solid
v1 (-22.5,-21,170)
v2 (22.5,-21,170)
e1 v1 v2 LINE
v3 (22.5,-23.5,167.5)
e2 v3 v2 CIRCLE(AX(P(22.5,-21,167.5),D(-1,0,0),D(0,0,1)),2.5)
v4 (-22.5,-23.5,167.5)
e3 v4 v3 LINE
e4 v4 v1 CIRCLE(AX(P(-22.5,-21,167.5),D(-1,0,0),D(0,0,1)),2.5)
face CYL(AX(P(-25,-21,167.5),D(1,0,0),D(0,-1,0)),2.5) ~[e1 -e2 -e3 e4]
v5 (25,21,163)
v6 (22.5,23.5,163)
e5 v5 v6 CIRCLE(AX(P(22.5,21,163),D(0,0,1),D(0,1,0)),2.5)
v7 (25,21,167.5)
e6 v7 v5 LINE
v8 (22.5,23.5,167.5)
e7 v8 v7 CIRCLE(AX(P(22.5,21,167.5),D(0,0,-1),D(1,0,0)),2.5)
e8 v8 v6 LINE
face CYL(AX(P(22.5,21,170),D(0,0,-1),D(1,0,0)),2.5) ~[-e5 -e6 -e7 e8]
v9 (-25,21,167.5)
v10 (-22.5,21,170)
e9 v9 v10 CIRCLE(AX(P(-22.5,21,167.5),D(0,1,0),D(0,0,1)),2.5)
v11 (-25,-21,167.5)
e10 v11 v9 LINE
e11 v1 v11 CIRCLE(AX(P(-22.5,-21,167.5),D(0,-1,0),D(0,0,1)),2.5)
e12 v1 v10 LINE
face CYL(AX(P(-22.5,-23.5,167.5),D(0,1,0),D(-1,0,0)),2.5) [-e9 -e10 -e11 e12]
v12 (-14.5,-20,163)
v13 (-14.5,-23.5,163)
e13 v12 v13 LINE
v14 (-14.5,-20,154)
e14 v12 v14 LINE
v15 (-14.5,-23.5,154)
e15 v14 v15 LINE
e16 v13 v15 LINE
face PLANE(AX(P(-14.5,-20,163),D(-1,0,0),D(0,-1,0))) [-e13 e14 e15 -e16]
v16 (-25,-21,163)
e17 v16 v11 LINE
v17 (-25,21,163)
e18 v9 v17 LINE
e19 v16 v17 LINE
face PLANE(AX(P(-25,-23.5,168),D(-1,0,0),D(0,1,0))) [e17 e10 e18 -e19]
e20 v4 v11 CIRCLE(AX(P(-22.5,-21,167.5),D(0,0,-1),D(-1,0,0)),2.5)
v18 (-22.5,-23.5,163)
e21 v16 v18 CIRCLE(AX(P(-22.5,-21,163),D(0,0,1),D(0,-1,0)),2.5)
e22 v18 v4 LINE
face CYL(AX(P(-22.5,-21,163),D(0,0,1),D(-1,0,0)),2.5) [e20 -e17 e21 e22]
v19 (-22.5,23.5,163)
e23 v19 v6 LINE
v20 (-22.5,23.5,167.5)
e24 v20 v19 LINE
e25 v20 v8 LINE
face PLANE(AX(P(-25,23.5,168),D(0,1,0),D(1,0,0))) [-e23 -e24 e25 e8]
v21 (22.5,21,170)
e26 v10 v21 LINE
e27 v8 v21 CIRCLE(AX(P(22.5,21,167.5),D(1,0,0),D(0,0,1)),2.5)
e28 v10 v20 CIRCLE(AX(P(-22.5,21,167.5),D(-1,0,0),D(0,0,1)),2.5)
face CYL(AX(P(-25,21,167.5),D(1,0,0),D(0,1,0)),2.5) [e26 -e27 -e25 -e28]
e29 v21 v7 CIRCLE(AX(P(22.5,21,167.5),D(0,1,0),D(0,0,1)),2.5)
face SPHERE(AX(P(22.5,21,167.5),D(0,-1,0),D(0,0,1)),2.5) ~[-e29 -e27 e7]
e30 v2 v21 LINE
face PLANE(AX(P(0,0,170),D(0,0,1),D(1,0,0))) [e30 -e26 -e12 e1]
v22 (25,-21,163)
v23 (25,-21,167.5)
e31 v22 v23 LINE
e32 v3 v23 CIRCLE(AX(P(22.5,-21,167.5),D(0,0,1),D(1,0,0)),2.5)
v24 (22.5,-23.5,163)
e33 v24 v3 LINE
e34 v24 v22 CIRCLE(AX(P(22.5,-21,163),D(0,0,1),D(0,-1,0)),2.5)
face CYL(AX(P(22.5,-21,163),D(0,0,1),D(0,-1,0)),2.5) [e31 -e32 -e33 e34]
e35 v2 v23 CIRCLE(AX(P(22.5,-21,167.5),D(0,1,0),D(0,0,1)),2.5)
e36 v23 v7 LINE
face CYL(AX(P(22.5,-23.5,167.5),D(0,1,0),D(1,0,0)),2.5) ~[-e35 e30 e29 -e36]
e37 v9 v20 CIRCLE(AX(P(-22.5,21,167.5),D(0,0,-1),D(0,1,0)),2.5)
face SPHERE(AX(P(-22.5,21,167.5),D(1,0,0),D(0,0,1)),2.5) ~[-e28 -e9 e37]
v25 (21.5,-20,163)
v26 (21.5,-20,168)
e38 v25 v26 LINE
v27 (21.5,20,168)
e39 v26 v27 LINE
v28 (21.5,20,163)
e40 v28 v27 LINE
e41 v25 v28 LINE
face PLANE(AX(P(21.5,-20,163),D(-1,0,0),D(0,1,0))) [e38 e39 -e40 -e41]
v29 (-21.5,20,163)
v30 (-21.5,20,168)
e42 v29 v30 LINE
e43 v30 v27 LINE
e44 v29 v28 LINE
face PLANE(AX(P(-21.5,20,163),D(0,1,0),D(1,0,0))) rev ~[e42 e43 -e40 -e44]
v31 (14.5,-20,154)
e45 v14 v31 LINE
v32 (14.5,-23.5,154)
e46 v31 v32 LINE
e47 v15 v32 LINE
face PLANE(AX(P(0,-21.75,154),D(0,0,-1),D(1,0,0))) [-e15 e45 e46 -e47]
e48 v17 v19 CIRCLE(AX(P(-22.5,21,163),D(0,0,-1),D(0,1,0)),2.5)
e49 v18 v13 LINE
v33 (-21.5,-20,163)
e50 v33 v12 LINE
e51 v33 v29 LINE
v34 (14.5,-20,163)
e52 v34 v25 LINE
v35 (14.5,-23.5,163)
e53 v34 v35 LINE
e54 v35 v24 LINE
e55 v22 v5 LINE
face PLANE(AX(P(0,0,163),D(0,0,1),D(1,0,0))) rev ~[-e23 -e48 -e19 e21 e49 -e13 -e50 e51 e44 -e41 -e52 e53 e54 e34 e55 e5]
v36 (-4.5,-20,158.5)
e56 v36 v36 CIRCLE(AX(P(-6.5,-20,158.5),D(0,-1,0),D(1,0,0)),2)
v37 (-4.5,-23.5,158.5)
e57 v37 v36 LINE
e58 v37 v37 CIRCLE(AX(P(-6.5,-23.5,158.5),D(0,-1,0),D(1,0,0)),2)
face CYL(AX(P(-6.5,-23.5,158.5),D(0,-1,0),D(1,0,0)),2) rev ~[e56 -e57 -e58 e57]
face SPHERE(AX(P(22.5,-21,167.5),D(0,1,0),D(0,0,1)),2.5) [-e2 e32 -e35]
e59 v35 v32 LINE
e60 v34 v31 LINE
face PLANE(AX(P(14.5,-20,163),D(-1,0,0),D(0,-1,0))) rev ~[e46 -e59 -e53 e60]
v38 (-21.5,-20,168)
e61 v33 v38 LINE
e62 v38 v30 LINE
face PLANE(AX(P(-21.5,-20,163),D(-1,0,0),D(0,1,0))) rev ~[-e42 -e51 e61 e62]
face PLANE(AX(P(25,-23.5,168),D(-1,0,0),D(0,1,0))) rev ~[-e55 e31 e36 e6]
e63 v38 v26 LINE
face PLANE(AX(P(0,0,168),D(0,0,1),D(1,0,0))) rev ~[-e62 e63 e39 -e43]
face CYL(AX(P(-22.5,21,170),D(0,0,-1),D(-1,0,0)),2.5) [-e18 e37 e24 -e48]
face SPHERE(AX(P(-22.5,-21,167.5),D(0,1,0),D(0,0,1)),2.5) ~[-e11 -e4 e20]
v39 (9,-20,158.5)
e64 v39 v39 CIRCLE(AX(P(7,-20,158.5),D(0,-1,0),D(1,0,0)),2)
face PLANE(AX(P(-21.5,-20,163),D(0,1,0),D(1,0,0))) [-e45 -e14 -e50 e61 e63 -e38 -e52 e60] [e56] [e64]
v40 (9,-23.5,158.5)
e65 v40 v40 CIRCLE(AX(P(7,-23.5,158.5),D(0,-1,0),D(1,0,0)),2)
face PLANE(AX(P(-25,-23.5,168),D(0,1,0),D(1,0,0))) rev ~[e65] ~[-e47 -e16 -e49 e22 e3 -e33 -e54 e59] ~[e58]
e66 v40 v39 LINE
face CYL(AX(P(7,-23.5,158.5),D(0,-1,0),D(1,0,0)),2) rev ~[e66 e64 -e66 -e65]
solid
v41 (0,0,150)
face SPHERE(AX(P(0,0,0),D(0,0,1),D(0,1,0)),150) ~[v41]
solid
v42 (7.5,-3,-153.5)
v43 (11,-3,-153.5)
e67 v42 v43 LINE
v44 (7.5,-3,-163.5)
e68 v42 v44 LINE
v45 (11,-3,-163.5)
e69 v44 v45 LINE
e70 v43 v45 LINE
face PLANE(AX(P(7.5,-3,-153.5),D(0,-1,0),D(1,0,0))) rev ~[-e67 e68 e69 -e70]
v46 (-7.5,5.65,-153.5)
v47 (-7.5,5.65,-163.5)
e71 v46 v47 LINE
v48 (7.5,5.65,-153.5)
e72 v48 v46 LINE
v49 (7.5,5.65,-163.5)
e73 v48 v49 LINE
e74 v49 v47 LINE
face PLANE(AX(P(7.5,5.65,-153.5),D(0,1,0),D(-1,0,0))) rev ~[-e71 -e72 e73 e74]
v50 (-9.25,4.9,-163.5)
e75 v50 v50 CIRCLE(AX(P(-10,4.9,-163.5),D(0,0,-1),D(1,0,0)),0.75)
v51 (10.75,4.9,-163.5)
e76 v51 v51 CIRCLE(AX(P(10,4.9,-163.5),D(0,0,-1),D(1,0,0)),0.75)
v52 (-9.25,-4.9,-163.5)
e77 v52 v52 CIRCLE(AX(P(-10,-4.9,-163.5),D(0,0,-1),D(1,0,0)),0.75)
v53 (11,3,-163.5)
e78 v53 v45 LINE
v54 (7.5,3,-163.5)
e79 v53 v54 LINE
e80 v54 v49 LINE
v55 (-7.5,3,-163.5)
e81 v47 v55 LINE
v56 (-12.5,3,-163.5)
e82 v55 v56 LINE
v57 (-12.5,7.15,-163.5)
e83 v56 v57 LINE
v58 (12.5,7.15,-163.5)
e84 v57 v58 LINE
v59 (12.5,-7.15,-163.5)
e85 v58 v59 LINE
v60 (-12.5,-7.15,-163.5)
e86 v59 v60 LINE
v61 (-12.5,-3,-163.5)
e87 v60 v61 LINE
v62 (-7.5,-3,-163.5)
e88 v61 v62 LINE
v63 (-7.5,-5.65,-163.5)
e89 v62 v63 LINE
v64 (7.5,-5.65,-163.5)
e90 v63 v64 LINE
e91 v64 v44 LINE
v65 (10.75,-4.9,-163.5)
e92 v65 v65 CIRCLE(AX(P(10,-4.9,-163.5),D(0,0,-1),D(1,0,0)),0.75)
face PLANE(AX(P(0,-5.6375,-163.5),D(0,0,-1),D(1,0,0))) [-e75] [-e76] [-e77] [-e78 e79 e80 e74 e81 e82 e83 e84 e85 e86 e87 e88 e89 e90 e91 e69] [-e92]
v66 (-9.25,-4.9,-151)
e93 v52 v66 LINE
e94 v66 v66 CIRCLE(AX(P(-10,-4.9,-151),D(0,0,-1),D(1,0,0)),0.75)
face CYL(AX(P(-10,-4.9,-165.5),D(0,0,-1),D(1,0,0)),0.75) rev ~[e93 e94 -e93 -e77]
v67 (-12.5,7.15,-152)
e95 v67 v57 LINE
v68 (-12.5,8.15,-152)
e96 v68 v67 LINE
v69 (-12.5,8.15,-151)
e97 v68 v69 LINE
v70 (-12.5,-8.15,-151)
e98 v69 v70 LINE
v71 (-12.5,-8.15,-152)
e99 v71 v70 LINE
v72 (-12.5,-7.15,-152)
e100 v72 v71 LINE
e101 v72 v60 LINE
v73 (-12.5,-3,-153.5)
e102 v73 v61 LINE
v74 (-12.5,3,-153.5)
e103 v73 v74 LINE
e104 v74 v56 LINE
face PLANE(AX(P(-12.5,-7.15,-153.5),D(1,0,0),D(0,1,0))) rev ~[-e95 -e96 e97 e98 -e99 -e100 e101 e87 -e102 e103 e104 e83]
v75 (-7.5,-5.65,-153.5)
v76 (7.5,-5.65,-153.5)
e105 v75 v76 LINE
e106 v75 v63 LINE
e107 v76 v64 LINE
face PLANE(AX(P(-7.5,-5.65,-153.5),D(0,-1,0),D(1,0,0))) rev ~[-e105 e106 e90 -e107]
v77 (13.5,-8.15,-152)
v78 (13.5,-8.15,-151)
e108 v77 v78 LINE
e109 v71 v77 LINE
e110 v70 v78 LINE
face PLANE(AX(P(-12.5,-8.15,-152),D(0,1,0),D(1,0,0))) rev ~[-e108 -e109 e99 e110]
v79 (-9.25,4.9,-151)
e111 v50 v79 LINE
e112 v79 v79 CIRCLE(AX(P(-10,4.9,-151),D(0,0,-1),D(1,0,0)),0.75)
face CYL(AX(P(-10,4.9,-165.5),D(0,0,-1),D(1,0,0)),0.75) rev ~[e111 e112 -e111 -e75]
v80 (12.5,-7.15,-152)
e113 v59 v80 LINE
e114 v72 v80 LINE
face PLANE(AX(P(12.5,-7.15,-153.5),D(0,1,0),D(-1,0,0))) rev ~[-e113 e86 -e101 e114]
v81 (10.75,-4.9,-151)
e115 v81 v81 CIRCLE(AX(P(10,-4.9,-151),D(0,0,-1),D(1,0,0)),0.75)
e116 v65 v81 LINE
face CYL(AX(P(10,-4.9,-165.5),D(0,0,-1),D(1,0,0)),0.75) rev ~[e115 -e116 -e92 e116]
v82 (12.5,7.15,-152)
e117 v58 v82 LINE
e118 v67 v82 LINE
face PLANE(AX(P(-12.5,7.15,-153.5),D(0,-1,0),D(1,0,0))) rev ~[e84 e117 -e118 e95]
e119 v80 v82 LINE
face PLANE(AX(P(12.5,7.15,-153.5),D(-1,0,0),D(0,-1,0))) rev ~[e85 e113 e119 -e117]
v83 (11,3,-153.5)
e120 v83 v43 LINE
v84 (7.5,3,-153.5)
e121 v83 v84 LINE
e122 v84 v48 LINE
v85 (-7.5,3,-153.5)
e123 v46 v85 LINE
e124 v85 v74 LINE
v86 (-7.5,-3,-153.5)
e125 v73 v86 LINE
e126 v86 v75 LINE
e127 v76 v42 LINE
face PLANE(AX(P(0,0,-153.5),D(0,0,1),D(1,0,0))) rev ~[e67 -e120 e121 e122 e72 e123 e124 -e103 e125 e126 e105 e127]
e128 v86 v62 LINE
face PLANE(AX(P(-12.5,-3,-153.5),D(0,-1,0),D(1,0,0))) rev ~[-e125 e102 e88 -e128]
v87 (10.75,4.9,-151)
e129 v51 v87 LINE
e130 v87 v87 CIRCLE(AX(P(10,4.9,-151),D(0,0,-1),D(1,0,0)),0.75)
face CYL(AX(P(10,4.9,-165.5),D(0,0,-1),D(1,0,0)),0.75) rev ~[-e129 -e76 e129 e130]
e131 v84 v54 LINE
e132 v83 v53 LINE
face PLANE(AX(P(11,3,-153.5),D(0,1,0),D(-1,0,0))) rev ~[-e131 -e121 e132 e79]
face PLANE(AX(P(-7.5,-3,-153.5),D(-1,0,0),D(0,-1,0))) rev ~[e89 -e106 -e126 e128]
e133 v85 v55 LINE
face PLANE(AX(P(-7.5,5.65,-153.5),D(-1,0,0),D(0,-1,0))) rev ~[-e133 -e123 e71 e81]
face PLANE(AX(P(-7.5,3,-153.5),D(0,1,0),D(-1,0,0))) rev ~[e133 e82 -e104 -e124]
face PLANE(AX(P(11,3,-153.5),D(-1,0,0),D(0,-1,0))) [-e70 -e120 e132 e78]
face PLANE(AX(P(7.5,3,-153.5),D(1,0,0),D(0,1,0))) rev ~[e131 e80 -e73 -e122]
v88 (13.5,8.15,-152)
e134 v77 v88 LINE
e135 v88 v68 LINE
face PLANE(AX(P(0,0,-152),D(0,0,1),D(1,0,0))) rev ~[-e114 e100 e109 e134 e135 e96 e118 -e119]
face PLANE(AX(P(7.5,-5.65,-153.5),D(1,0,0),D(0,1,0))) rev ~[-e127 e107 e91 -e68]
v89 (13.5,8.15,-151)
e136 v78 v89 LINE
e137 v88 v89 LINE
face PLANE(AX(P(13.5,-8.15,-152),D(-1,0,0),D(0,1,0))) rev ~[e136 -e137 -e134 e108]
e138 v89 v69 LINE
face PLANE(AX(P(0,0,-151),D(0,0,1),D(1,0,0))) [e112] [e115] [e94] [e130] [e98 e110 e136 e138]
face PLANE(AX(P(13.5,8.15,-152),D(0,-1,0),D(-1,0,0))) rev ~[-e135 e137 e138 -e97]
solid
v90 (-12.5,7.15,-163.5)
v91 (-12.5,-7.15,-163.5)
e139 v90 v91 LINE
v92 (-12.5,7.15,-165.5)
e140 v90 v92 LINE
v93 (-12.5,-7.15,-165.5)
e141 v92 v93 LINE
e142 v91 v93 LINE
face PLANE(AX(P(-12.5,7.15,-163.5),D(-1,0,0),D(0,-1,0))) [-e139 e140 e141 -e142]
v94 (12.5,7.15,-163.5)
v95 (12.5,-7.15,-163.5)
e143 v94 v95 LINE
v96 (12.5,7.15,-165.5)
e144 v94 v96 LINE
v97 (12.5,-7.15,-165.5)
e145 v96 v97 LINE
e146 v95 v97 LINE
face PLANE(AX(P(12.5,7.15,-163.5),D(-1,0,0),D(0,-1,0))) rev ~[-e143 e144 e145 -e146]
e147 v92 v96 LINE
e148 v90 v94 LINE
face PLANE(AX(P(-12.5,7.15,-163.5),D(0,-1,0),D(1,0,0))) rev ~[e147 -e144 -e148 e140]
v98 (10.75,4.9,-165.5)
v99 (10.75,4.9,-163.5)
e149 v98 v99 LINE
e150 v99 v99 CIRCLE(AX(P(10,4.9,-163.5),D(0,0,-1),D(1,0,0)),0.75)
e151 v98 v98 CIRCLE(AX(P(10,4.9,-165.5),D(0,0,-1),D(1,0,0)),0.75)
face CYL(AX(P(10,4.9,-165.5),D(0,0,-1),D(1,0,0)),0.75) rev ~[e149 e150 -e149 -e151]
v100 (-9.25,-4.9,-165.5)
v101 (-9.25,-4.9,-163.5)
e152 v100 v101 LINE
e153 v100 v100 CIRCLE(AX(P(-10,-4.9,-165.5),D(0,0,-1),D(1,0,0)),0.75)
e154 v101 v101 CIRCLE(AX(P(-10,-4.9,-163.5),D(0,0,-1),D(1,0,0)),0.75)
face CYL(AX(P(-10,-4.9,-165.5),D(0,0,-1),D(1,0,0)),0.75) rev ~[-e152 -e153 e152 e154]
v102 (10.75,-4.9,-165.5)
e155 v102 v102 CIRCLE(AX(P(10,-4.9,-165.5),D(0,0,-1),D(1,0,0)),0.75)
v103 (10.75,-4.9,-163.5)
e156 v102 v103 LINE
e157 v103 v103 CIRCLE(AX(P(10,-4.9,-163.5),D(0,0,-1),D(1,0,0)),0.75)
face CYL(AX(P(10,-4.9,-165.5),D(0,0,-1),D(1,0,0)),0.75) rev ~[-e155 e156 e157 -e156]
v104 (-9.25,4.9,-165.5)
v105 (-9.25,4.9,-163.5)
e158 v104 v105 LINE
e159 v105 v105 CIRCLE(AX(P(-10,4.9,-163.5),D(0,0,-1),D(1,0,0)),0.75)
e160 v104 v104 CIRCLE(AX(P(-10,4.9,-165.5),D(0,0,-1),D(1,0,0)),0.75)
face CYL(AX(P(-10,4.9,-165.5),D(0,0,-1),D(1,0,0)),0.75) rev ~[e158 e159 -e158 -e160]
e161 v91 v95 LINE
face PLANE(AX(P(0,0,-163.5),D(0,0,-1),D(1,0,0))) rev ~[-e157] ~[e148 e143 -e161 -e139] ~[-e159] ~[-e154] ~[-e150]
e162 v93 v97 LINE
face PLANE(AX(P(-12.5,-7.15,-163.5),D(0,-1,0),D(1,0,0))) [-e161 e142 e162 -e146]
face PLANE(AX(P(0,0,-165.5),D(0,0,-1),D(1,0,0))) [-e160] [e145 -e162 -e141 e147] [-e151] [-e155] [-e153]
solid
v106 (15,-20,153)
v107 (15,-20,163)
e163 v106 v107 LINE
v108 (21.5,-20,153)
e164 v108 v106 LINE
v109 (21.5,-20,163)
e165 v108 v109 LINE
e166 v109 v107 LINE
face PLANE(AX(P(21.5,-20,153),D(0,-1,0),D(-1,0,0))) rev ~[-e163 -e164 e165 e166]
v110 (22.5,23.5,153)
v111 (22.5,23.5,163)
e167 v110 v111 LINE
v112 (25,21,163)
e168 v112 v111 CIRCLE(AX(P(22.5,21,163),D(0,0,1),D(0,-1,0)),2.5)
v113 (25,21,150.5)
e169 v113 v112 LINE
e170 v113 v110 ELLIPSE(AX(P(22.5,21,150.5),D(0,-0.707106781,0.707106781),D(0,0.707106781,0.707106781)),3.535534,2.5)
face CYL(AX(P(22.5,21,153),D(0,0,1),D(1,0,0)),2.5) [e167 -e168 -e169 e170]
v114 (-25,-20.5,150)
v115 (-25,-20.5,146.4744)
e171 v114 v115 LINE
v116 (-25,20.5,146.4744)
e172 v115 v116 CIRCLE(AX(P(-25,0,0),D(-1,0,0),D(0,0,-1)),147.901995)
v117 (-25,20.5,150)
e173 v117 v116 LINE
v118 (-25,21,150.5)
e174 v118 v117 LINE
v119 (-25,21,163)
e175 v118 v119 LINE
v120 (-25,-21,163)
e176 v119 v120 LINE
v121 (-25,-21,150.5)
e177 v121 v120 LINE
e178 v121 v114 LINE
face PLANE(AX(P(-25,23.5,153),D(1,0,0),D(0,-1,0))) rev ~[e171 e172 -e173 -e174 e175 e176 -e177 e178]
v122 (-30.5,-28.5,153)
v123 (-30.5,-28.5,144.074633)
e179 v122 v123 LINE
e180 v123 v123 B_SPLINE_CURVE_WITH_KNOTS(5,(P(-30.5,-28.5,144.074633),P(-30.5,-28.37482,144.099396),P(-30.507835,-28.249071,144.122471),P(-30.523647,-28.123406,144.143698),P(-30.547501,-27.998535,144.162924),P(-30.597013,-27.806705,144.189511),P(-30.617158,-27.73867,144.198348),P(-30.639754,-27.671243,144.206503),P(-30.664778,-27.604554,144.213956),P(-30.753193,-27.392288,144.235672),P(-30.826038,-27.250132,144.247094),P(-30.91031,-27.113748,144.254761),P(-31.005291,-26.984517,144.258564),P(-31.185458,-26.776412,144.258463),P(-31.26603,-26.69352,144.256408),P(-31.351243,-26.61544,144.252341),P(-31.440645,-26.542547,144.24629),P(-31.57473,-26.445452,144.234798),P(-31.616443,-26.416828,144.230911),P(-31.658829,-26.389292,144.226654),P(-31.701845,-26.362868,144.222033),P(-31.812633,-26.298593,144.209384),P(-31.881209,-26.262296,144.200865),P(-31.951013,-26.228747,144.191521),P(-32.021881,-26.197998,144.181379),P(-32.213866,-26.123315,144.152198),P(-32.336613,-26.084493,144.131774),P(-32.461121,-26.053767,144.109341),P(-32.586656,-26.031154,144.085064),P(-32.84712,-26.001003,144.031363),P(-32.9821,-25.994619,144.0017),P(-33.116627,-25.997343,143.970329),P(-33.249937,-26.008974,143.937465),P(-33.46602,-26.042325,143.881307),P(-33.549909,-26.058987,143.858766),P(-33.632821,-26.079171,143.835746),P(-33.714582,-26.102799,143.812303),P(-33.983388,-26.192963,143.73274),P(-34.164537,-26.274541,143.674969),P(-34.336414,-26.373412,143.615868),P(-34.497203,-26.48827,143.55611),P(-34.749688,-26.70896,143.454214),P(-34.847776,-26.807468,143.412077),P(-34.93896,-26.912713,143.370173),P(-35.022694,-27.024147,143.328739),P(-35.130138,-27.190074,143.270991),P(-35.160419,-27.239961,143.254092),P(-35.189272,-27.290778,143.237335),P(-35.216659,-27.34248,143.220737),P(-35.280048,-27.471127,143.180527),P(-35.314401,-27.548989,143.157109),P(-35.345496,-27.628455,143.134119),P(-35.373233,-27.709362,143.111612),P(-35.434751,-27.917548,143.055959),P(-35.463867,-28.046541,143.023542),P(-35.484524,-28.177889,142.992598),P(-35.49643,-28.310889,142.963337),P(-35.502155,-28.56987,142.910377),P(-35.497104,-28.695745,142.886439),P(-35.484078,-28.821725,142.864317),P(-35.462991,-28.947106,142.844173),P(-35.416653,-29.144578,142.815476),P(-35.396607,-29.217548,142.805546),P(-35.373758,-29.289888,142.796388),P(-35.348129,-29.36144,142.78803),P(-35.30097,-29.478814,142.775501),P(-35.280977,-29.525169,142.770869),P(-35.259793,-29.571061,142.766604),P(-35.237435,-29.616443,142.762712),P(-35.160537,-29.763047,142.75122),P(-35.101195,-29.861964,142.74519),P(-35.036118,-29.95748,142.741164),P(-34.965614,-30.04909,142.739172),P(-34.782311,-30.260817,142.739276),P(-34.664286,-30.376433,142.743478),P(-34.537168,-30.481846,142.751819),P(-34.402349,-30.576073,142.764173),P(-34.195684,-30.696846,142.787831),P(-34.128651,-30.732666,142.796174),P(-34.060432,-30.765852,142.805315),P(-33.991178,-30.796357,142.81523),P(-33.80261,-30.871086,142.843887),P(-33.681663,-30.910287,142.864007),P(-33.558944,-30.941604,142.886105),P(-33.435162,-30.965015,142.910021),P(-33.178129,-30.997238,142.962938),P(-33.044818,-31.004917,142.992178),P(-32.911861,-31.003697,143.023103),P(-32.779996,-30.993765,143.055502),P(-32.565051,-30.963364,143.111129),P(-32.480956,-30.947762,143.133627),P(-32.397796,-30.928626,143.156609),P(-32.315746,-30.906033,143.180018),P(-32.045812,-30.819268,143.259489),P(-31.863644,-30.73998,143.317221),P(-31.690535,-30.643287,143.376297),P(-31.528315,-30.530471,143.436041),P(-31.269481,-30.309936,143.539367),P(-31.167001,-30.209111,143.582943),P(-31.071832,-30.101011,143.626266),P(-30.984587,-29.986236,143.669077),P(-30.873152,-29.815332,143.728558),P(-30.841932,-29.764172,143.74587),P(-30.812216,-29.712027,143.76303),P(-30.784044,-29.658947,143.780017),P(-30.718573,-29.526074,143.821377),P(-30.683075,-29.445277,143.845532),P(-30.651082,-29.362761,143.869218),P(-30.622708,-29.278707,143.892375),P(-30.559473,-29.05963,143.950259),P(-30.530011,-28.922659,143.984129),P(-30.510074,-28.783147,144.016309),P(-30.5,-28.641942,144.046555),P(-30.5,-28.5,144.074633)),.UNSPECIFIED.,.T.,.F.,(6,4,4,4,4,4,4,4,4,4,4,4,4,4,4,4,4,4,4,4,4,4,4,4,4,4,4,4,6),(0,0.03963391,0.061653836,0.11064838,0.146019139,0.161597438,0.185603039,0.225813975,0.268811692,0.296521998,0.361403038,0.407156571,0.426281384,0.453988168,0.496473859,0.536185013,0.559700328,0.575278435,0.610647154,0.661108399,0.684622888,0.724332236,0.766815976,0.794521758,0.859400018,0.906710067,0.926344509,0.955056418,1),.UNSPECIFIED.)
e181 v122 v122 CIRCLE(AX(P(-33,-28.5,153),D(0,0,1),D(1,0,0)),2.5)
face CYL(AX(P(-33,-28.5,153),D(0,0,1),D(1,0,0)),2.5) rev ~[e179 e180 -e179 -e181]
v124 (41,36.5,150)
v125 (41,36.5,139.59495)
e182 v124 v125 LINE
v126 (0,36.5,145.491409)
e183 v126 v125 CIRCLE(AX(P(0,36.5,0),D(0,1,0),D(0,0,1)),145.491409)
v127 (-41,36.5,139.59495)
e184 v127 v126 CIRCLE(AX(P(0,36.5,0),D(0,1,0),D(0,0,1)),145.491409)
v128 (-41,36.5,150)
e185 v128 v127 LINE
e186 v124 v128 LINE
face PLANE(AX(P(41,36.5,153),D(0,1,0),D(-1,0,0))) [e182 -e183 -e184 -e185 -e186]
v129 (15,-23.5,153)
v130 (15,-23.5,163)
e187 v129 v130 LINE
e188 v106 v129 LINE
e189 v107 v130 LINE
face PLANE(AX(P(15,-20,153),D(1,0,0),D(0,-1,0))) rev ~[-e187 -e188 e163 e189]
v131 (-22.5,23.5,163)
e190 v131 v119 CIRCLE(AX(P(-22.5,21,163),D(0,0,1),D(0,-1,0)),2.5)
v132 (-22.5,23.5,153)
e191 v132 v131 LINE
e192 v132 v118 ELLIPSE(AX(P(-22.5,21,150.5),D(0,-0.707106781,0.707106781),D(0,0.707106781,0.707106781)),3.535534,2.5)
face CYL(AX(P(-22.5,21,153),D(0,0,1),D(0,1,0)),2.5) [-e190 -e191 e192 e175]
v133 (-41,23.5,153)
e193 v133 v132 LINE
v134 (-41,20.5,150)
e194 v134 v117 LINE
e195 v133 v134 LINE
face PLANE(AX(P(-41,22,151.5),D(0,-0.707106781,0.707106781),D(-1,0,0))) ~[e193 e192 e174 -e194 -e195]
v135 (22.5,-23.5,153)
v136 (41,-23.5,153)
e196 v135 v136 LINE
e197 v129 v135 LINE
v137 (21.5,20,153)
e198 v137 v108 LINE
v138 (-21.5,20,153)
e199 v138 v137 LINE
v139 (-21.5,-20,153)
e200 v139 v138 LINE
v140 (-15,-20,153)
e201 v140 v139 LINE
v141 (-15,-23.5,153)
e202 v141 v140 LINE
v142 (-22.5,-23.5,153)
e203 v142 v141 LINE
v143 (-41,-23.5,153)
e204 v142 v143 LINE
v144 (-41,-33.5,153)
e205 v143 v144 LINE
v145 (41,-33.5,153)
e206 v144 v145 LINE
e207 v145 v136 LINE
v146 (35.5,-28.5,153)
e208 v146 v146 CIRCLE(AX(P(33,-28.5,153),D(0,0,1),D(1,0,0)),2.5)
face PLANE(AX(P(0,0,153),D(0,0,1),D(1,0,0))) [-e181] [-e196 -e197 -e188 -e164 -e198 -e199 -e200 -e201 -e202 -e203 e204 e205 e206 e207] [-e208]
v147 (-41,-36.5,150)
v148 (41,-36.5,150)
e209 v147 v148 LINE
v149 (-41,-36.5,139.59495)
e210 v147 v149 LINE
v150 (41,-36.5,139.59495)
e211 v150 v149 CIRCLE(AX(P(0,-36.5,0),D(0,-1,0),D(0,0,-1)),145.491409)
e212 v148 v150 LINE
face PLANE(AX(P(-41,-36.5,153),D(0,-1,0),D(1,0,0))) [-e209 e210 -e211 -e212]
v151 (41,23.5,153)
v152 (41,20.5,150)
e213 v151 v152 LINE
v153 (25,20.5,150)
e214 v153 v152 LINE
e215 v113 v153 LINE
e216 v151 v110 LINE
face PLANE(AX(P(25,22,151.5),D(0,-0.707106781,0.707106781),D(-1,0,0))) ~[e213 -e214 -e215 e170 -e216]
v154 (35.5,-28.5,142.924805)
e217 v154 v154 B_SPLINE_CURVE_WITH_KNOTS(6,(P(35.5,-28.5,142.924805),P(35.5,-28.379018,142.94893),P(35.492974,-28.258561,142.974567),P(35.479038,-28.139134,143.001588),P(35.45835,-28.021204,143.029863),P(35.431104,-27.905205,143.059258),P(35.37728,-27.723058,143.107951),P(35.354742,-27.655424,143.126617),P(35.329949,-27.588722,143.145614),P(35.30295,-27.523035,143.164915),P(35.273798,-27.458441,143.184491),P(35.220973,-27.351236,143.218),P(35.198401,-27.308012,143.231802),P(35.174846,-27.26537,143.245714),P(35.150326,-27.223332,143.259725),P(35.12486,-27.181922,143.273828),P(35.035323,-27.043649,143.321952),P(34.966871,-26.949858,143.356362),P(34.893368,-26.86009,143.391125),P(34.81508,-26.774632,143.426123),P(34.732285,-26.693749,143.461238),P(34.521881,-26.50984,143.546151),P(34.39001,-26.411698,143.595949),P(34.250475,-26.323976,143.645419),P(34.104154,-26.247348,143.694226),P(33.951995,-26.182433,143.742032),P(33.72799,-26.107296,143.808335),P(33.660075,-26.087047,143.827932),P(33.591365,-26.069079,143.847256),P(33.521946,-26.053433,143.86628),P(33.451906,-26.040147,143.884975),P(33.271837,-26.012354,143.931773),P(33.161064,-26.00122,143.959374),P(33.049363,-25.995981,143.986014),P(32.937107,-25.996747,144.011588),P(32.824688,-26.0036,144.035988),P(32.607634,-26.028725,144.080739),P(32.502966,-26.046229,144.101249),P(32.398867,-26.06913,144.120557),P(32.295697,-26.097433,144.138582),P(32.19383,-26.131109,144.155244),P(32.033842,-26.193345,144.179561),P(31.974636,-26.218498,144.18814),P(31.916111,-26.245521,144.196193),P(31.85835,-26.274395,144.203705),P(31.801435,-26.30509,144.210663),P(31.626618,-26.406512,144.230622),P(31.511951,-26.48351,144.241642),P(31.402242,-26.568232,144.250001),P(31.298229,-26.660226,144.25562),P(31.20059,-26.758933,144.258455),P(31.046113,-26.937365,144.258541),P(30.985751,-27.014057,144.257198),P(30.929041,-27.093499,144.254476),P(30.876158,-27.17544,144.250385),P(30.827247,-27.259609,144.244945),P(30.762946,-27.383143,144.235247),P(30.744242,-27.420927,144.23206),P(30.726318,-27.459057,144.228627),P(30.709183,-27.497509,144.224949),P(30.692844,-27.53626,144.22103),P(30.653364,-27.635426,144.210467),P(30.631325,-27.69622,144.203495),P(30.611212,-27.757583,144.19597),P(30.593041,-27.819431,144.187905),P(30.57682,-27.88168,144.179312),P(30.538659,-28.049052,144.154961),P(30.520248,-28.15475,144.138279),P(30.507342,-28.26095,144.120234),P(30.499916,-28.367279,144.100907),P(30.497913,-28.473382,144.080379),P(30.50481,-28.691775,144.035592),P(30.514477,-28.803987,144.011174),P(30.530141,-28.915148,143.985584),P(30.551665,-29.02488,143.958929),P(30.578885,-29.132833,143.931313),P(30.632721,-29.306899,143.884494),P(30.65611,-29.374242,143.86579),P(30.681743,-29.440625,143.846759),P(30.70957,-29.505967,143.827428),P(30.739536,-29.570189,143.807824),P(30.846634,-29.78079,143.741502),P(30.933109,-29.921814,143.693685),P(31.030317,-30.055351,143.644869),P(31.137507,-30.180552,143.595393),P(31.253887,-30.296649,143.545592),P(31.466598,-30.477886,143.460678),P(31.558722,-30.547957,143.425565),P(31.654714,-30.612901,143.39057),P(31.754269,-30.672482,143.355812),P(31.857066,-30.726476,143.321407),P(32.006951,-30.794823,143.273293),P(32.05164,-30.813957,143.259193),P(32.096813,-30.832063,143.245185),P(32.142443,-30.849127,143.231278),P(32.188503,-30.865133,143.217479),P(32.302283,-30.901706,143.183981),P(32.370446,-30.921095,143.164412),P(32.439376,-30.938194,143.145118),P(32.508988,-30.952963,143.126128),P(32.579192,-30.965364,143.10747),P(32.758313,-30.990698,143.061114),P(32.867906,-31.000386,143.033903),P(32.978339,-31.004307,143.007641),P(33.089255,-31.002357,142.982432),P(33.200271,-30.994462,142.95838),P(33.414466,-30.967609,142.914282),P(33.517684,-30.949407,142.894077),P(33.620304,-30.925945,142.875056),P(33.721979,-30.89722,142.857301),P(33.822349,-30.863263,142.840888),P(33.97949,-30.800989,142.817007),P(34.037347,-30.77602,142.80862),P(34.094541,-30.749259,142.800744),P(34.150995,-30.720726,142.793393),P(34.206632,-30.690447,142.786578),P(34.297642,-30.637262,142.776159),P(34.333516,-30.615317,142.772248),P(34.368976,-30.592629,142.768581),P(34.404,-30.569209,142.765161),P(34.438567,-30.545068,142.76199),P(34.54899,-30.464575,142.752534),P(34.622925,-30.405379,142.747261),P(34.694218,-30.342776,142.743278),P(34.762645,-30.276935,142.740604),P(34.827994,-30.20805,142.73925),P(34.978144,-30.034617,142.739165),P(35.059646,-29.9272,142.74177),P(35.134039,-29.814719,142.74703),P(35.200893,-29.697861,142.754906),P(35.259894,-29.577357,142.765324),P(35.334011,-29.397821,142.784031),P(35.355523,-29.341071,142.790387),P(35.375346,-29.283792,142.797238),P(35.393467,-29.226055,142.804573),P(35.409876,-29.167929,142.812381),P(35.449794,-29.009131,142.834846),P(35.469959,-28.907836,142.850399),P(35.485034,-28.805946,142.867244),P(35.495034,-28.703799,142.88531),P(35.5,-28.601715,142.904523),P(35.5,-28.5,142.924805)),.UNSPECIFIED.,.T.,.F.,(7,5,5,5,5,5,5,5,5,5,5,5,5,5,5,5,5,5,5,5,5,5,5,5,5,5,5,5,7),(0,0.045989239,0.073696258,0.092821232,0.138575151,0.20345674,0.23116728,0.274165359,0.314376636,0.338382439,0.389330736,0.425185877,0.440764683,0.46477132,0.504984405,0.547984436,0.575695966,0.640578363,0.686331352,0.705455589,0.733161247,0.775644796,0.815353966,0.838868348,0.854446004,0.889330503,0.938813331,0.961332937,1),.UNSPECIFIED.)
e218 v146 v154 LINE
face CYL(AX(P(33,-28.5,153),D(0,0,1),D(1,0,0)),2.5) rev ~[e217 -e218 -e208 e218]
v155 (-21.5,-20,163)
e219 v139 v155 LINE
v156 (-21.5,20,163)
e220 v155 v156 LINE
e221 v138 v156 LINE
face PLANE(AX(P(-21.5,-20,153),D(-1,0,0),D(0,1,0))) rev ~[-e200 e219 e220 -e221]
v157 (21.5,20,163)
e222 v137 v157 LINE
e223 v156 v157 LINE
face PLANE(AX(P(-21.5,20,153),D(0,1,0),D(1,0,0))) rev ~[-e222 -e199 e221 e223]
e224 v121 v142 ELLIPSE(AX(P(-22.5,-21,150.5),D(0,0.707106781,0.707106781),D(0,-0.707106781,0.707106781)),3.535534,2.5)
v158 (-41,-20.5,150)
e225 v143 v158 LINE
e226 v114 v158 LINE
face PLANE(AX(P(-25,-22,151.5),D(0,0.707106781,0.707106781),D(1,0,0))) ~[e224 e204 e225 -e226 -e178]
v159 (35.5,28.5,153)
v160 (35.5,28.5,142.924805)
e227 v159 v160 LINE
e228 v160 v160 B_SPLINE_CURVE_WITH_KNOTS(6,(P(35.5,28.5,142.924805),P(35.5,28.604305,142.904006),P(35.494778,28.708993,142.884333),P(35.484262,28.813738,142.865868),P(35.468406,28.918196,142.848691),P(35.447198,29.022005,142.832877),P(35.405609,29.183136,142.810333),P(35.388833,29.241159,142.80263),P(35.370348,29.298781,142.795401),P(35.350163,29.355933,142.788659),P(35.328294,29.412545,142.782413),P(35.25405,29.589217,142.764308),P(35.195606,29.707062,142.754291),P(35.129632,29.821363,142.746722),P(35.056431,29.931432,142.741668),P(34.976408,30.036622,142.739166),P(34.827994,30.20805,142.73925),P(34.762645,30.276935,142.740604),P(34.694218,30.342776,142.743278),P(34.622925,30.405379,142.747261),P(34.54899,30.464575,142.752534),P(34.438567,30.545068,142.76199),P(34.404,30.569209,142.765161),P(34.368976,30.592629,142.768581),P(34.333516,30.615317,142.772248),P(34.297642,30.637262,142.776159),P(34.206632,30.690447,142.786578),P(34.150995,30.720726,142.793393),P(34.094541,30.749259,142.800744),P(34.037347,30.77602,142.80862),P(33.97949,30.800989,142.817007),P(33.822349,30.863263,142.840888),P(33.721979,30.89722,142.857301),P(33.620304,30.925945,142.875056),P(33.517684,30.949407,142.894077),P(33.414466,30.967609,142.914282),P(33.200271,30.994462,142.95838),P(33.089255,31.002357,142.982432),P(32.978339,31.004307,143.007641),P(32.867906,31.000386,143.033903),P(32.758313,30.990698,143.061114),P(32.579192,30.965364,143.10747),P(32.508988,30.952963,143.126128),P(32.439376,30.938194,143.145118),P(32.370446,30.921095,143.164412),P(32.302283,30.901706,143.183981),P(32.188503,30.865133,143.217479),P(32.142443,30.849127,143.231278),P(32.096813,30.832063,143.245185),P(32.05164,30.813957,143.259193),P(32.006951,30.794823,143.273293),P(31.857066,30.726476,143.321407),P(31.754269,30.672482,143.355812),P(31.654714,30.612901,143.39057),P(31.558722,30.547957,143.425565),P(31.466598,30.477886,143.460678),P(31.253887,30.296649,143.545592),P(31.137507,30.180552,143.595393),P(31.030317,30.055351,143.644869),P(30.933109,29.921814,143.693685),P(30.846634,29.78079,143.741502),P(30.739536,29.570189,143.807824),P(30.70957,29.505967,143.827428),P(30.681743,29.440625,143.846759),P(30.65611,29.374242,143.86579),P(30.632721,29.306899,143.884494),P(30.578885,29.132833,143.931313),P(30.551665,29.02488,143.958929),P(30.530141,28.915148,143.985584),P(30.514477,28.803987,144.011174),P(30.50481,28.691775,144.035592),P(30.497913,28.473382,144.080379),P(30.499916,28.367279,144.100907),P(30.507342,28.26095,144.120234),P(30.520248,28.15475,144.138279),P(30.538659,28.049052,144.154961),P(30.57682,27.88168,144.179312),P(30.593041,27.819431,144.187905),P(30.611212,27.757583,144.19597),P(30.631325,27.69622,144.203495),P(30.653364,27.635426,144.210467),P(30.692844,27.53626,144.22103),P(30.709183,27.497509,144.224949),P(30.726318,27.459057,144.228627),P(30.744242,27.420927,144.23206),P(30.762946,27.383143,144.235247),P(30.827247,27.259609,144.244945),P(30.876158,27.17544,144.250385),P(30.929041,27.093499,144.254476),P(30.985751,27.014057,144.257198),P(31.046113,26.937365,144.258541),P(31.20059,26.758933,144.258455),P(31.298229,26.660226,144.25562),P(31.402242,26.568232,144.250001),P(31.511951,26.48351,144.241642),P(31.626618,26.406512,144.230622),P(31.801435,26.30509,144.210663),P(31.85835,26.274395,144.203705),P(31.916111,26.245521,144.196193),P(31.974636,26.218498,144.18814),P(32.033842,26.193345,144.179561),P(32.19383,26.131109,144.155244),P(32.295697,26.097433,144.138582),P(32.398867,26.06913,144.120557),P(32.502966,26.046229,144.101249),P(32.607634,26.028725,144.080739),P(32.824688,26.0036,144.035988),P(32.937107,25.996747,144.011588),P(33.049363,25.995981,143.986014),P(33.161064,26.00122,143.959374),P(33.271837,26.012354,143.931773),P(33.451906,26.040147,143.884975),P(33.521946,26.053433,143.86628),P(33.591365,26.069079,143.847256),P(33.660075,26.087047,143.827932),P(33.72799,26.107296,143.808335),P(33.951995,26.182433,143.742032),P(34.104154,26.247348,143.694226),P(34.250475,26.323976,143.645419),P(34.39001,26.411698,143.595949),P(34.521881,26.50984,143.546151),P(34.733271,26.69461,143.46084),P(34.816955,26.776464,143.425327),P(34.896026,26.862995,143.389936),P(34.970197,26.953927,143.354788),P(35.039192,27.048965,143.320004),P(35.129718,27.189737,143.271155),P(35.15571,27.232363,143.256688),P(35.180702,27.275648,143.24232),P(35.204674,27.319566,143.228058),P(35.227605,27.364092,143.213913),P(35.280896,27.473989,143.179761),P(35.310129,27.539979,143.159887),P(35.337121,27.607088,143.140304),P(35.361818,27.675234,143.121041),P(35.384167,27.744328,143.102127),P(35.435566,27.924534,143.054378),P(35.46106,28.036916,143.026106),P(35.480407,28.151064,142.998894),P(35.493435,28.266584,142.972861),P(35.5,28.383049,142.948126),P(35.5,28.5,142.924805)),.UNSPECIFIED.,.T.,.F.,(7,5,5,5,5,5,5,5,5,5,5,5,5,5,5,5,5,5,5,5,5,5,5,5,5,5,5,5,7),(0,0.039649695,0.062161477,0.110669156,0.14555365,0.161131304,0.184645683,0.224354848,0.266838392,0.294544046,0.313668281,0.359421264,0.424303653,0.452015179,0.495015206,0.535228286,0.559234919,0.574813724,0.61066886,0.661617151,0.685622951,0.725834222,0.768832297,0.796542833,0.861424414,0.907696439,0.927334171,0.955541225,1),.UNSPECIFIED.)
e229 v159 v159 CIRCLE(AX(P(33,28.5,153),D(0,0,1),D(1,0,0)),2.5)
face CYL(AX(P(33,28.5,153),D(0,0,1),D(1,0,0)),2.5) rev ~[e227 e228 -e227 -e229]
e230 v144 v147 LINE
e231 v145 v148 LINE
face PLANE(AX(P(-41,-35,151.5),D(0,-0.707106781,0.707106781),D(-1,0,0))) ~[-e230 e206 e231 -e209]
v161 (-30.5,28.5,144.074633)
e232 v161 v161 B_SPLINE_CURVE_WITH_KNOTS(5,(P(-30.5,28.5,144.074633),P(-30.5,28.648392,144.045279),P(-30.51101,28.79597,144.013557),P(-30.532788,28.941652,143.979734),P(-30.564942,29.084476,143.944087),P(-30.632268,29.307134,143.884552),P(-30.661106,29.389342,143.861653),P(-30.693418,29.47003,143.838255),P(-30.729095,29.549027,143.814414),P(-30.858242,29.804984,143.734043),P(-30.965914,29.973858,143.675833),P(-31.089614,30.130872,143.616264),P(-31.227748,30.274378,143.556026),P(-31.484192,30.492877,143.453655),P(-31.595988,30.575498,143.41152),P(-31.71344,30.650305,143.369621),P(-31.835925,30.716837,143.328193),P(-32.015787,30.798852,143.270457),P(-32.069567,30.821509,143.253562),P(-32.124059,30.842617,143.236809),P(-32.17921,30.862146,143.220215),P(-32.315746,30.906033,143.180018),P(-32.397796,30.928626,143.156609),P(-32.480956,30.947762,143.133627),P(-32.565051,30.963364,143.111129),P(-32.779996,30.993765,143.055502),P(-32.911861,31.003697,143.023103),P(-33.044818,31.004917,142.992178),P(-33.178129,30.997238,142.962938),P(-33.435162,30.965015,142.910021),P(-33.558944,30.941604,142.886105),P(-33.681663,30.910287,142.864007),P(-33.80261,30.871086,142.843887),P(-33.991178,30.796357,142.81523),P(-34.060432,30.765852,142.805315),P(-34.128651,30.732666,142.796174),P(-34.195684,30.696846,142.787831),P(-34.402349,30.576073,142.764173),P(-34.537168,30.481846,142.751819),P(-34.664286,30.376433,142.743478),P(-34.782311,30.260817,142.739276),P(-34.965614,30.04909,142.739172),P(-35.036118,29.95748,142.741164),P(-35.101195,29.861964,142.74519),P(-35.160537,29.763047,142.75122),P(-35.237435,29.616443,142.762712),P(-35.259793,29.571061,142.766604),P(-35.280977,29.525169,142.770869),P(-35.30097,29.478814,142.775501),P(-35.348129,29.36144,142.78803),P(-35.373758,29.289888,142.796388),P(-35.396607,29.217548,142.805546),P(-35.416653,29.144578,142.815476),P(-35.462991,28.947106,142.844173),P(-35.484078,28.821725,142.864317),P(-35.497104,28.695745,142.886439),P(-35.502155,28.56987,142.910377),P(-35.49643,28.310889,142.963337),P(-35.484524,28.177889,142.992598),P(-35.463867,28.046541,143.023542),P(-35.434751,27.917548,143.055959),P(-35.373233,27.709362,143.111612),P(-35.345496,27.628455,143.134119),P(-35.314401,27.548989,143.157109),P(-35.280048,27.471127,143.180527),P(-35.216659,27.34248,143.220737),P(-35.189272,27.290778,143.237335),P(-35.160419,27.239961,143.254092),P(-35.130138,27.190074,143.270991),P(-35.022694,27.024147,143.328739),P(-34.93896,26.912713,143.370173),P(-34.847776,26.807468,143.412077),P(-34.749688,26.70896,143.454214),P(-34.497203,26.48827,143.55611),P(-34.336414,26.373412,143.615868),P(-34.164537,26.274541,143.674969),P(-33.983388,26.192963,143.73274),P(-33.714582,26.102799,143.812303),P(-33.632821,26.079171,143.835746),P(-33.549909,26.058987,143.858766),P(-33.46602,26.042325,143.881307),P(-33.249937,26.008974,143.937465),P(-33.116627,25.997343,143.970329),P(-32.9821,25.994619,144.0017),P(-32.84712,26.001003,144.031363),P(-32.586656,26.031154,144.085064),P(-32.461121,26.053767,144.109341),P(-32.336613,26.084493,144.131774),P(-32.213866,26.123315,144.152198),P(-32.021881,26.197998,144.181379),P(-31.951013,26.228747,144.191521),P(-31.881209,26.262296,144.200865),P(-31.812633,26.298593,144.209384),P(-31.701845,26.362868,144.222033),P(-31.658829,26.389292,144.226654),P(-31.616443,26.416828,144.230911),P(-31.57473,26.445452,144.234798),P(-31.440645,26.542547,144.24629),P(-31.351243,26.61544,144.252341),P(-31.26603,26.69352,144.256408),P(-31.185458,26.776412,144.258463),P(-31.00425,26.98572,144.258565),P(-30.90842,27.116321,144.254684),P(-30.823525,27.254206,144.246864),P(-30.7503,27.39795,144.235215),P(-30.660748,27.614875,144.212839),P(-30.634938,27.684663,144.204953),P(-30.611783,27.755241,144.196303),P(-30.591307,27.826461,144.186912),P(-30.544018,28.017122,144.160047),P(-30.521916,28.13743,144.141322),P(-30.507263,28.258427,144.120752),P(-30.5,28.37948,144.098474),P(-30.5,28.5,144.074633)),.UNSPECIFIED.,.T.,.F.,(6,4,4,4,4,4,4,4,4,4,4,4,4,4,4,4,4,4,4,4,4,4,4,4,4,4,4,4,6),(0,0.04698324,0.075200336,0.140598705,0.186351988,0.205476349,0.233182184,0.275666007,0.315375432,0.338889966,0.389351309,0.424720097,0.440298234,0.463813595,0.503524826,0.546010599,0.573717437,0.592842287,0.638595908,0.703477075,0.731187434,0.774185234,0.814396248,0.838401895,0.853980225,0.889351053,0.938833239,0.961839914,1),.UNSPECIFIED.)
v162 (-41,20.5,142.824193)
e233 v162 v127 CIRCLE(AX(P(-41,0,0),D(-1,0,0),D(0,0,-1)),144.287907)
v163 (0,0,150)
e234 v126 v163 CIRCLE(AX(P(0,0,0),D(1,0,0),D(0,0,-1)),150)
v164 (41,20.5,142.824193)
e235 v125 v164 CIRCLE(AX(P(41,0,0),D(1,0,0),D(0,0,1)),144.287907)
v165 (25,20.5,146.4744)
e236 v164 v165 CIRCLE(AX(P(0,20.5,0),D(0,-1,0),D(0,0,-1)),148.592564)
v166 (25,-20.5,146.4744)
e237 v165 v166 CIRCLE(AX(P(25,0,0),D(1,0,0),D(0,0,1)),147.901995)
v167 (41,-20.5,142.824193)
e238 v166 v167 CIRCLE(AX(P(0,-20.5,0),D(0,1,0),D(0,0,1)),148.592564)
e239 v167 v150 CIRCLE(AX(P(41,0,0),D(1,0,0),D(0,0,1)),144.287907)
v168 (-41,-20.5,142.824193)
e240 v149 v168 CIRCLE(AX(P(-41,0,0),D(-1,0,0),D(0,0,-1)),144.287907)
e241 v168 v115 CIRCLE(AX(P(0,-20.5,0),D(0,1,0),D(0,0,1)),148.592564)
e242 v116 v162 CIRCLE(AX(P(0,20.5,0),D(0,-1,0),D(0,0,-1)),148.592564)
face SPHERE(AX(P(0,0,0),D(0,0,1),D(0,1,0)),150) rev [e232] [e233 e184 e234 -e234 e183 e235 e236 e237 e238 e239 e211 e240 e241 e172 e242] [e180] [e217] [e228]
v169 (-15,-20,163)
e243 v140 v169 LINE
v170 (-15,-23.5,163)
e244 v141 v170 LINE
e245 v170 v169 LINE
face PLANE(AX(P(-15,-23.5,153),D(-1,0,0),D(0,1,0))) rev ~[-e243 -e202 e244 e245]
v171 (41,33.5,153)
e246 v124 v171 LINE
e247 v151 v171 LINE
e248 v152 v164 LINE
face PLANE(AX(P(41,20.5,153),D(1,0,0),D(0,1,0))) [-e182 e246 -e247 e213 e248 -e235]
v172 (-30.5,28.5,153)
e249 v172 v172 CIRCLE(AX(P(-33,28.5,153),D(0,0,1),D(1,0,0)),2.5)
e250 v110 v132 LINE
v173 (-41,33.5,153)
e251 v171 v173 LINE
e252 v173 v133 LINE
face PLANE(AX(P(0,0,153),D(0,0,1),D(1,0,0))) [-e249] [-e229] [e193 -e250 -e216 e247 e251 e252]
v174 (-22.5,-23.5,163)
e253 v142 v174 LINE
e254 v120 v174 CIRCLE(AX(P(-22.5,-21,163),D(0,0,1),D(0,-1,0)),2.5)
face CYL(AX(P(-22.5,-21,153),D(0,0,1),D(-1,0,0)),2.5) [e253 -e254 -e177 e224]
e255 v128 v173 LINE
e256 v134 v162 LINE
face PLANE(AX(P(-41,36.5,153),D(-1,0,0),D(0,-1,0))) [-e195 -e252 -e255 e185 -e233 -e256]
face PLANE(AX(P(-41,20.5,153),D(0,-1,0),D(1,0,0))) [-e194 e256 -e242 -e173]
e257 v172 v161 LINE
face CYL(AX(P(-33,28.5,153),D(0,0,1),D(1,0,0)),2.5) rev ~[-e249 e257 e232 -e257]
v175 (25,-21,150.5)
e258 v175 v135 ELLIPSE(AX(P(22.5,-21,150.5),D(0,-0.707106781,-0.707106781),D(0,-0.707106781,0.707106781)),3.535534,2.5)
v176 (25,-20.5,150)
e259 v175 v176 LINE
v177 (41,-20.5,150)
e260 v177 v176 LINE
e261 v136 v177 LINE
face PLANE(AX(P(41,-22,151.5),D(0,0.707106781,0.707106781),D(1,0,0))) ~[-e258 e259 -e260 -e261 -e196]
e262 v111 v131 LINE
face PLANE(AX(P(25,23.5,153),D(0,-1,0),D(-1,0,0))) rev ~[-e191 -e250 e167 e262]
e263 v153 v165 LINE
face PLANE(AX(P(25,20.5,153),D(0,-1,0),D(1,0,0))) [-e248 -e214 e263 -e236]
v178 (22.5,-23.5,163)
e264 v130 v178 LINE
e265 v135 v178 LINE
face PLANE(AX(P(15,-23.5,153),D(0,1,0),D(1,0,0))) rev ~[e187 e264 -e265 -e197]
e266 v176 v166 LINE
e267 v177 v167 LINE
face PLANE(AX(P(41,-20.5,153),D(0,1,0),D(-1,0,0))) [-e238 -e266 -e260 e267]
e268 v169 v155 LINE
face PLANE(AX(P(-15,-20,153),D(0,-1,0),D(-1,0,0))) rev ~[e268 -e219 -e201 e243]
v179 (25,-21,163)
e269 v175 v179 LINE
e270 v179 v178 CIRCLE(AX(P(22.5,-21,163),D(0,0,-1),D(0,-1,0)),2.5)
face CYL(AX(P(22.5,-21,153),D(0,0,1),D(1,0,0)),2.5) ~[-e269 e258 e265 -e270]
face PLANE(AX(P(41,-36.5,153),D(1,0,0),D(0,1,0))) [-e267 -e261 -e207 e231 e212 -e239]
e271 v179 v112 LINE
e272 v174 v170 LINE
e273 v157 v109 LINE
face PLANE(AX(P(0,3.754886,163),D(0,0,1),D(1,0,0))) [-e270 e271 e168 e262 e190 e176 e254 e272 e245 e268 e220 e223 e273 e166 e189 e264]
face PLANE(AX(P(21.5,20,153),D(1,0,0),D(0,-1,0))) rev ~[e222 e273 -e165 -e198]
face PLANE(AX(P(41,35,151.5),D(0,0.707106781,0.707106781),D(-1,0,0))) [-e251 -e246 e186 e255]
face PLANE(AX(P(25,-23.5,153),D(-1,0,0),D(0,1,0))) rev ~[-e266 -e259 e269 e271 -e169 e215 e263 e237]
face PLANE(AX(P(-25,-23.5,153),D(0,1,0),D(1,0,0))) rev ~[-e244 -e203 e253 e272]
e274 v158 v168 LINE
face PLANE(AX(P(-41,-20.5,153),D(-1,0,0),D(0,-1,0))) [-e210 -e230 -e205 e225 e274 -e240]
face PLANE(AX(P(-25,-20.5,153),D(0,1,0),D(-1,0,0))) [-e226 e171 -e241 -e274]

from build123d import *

# Parameters (mm, degrees)
F6_R      = 2.5
F8_SIZE   = 3
F10_DEPTH = 10
F11_W     = 50
F11_H     = 47
F11_W_2   = 43
F11_H_2   = 40
F12_DEPTH = 5
F13_W     = 50
F13_H     = 47
F14_DEPTH = 2
F15_R     = 2.5
F15_2_R   = 2.5
F16_W     = 29
F16_H     = 3.5
F17_DEPTH = 9
F18_R     = 2
F19_DEPTH = 3.5
F21_W     = 25
F21_H     = 14.3
F22_DEPTH = 1
F23_DEPTH = 1.5
F24_W     = 1.5
F24_H     = 6
F25_DEPTH = 10
F26_W     = 25
F26_H     = 14.3
F27_DEPTH = 2
F28_R     = 0.75
F29_DEPTH = 14.5


with BuildPart() as f4:
    # F3 (on Right) → F4 (revolve)
    with BuildSketch(Plane.YZ):
        with BuildLine():
            Line((0, 150), (0, -150))
            ThreePointArc((0, -150), (150, 0), (0, 150))
        make_face()
    revolve(axis=Axis((0, 0, -16.459852457), (0, 0, -1)))


with BuildPart() as f7:
    # F6 (on offset) → F7 (new body, up to the next surface of F4)
    with BuildSketch(Plane.XY.offset(153)):
        Polygon((41, 36.5), (25, 36.5), (-25, 36.5), (-41, 36.5), (-41, 20.5), (-25, 20.5), (-25, -20.5), (-41, -20.5), (-41, -36.5), (-25, -36.5), (25, -36.5), (41, -36.5), (41, -20.5), (25, -20.5), (25, 20.5), (41, 20.5), align=None)
        with Locations((-33, -28.5)):
            Circle(F6_R, mode=Mode.SUBTRACT)
        with Locations((33, -28.5)):
            Circle(F6_R, mode=Mode.SUBTRACT)
        with Locations((-33, 28.5)):
            Circle(F6_R, mode=Mode.SUBTRACT)
        with Locations((33, 28.5)):
            Circle(F6_R, mode=Mode.SUBTRACT)
    extrude(until=Until.NEXT, target=f4.part, dir=(0, 0, -1))

    # F8
    f8_edges = [f7.edges().sort_by_distance(p)[0] for p in [
        (0, 36.5, 153),
        (-33, 36.5, 153),
        (33, 36.5, 153),
        (0, -36.5, 153),
        (-33, -36.5, 153),
        (33, -36.5, 153),
        (-33, 20.5, 153),
        (33, 20.5, 153),
        (33, -20.5, 153),
        (-33, -20.5, 153),
    ]]
    chamfer(f8_edges, length=F8_SIZE)

    # F9 (on face) → F10 (join)
    with BuildSketch(Plane.XY.offset(153)):
        Polygon((25, -23.5), (25, 23.5), (-25, 23.5), (-25, -23.5), (-15, -23.5), (-15, -20), (-21.5, -20), (-21.5, 20), (21.5, 20), (21.5, -20), (15, -20), (15, -23.5), align=None)
    extrude(amount=F10_DEPTH)

    # F15#2
    f15_2_edges = [f7.edges().sort_by_distance(p)[0] for p in [
        (-25, -23.5, 158),
        (-25, 23.5, 158),
        (25, -23.5, 158),
        (25, 23.5, 158),
    ]]
    fillet(f15_2_edges, radius=F15_2_R)


with BuildPart() as f12:
    # F11 (on face) → F12 (new body)
    with BuildSketch(Plane.XY.offset(163)):
        Rectangle(F11_W, F11_H)
        Rectangle(F11_W_2, F11_H_2, mode=Mode.SUBTRACT)
    extrude(amount=F12_DEPTH)

    # F13 (on face) → F14 (join)
    with BuildSketch(Plane.XY.offset(168)):
        Rectangle(F13_W, F13_H)
    extrude(amount=F14_DEPTH)

    # F15
    f15_edges = [f12.edges().sort_by_distance(p)[0] for p in [
        (25, 0, 170),
        (0, 23.5, 170),
        (-25, 0, 170),
        (0, -23.5, 170),
        (-25, -23.5, 166.5),
        (-25, 23.5, 166.5),
        (25, -23.5, 166.5),
        (25, 23.5, 166.5),
    ]]
    fillet(f15_edges, radius=F15_R)

    # F16 (on face) → F17 (join)
    with BuildSketch(Plane(origin=(0, 0, 163), x_dir=(1, 0, 0), z_dir=(0, 0, -1))):
        with Locations((0, 21.75)):
            Rectangle(F16_W, F16_H)
    extrude(amount=F17_DEPTH)

    # F18 (on face) → F19 (cut, through all)
    with BuildSketch(Plane.XZ.offset(23.5)):
        with Locations((-6.5, 158.5)):
            Circle(F18_R)
        with Locations((7, 158.5)):
            Circle(F18_R)
    extrude(amount=-F19_DEPTH, mode=Mode.SUBTRACT)


with BuildPart() as f22:
    # F21 (on offset) → F22 (new body)
    with BuildSketch(Plane.XY.offset(-152)):
        Rectangle(F21_W, F21_H)
        Polygon((-12.5, 7.15), (12.5, 7.15), (12.5, -7.15), (-12.5, -7.15), (-12.5, -8.15), (13.5, -8.15), (13.5, 8.15), (-12.5, 8.15), align=None)
    extrude(amount=F22_DEPTH)

    # F21 (on offset) → F23 (join)
    with BuildSketch(Plane.XY.offset(-152)):
        Rectangle(F21_W, F21_H)
    extrude(amount=-F23_DEPTH)

    # F24 (on face) → F25 (join)
    with BuildSketch(Plane(origin=(0, 0, -153.5), x_dir=(1, 0, 0), z_dir=(0, 0, -1))):
        Polygon((12.5, 3), (12.5, 7.15), (-12.5, 7.15), (-12.5, 3), (-7.5, 3), (-7.5, 5.65), (7.5, 5.65), (7.5, 3), (11, 3), align=None)
        with Locations((11.75, 0)):
            Rectangle(F24_W, F24_H)
        Polygon((12.5, -7.15), (12.5, -3), (11, -3), (7.5, -3), (7.5, -5.65), (-7.5, -5.65), (-7.5, -3), (-12.5, -3), (-12.5, -7.15), align=None)
    extrude(amount=F25_DEPTH)


with BuildPart() as f27:
    # F26 (on face) → F27 (new body)
    with BuildSketch(Plane(origin=(0, 0, -163.5), x_dir=(1, 0, 0), z_dir=(0, 0, -1))):
        Rectangle(F26_W, F26_H)
    extrude(amount=F27_DEPTH)


with BuildPart() as f29_tool:
    # F28 (on face) → F29 (new body, through all)
    with BuildSketch(Plane(origin=(0, 0, -165.5), x_dir=(1, 0, 0), z_dir=(0, 0, -1))):
        with Locations((-10, 4.9)):
            Circle(F28_R)
        with Locations((-10, -4.9)):
            Circle(F28_R)
        with Locations((10, 4.9)):
            Circle(F28_R)
        with Locations((10, -4.9)):
            Circle(F28_R)
    extrude(amount=-F29_DEPTH)


with BuildPart() as f22_1:
    add(f22.part)

    # F29: cut by f29_tool
    add(f29_tool.part, mode=Mode.SUBTRACT)


with BuildPart() as f27_1:
    add(f27.part)

    # F29: cut by f29_tool
    add(f29_tool.part, mode=Mode.SUBTRACT)


solid = Compound([f4.part, f7.part, f12.part, f22_1.part, f27_1.part])
